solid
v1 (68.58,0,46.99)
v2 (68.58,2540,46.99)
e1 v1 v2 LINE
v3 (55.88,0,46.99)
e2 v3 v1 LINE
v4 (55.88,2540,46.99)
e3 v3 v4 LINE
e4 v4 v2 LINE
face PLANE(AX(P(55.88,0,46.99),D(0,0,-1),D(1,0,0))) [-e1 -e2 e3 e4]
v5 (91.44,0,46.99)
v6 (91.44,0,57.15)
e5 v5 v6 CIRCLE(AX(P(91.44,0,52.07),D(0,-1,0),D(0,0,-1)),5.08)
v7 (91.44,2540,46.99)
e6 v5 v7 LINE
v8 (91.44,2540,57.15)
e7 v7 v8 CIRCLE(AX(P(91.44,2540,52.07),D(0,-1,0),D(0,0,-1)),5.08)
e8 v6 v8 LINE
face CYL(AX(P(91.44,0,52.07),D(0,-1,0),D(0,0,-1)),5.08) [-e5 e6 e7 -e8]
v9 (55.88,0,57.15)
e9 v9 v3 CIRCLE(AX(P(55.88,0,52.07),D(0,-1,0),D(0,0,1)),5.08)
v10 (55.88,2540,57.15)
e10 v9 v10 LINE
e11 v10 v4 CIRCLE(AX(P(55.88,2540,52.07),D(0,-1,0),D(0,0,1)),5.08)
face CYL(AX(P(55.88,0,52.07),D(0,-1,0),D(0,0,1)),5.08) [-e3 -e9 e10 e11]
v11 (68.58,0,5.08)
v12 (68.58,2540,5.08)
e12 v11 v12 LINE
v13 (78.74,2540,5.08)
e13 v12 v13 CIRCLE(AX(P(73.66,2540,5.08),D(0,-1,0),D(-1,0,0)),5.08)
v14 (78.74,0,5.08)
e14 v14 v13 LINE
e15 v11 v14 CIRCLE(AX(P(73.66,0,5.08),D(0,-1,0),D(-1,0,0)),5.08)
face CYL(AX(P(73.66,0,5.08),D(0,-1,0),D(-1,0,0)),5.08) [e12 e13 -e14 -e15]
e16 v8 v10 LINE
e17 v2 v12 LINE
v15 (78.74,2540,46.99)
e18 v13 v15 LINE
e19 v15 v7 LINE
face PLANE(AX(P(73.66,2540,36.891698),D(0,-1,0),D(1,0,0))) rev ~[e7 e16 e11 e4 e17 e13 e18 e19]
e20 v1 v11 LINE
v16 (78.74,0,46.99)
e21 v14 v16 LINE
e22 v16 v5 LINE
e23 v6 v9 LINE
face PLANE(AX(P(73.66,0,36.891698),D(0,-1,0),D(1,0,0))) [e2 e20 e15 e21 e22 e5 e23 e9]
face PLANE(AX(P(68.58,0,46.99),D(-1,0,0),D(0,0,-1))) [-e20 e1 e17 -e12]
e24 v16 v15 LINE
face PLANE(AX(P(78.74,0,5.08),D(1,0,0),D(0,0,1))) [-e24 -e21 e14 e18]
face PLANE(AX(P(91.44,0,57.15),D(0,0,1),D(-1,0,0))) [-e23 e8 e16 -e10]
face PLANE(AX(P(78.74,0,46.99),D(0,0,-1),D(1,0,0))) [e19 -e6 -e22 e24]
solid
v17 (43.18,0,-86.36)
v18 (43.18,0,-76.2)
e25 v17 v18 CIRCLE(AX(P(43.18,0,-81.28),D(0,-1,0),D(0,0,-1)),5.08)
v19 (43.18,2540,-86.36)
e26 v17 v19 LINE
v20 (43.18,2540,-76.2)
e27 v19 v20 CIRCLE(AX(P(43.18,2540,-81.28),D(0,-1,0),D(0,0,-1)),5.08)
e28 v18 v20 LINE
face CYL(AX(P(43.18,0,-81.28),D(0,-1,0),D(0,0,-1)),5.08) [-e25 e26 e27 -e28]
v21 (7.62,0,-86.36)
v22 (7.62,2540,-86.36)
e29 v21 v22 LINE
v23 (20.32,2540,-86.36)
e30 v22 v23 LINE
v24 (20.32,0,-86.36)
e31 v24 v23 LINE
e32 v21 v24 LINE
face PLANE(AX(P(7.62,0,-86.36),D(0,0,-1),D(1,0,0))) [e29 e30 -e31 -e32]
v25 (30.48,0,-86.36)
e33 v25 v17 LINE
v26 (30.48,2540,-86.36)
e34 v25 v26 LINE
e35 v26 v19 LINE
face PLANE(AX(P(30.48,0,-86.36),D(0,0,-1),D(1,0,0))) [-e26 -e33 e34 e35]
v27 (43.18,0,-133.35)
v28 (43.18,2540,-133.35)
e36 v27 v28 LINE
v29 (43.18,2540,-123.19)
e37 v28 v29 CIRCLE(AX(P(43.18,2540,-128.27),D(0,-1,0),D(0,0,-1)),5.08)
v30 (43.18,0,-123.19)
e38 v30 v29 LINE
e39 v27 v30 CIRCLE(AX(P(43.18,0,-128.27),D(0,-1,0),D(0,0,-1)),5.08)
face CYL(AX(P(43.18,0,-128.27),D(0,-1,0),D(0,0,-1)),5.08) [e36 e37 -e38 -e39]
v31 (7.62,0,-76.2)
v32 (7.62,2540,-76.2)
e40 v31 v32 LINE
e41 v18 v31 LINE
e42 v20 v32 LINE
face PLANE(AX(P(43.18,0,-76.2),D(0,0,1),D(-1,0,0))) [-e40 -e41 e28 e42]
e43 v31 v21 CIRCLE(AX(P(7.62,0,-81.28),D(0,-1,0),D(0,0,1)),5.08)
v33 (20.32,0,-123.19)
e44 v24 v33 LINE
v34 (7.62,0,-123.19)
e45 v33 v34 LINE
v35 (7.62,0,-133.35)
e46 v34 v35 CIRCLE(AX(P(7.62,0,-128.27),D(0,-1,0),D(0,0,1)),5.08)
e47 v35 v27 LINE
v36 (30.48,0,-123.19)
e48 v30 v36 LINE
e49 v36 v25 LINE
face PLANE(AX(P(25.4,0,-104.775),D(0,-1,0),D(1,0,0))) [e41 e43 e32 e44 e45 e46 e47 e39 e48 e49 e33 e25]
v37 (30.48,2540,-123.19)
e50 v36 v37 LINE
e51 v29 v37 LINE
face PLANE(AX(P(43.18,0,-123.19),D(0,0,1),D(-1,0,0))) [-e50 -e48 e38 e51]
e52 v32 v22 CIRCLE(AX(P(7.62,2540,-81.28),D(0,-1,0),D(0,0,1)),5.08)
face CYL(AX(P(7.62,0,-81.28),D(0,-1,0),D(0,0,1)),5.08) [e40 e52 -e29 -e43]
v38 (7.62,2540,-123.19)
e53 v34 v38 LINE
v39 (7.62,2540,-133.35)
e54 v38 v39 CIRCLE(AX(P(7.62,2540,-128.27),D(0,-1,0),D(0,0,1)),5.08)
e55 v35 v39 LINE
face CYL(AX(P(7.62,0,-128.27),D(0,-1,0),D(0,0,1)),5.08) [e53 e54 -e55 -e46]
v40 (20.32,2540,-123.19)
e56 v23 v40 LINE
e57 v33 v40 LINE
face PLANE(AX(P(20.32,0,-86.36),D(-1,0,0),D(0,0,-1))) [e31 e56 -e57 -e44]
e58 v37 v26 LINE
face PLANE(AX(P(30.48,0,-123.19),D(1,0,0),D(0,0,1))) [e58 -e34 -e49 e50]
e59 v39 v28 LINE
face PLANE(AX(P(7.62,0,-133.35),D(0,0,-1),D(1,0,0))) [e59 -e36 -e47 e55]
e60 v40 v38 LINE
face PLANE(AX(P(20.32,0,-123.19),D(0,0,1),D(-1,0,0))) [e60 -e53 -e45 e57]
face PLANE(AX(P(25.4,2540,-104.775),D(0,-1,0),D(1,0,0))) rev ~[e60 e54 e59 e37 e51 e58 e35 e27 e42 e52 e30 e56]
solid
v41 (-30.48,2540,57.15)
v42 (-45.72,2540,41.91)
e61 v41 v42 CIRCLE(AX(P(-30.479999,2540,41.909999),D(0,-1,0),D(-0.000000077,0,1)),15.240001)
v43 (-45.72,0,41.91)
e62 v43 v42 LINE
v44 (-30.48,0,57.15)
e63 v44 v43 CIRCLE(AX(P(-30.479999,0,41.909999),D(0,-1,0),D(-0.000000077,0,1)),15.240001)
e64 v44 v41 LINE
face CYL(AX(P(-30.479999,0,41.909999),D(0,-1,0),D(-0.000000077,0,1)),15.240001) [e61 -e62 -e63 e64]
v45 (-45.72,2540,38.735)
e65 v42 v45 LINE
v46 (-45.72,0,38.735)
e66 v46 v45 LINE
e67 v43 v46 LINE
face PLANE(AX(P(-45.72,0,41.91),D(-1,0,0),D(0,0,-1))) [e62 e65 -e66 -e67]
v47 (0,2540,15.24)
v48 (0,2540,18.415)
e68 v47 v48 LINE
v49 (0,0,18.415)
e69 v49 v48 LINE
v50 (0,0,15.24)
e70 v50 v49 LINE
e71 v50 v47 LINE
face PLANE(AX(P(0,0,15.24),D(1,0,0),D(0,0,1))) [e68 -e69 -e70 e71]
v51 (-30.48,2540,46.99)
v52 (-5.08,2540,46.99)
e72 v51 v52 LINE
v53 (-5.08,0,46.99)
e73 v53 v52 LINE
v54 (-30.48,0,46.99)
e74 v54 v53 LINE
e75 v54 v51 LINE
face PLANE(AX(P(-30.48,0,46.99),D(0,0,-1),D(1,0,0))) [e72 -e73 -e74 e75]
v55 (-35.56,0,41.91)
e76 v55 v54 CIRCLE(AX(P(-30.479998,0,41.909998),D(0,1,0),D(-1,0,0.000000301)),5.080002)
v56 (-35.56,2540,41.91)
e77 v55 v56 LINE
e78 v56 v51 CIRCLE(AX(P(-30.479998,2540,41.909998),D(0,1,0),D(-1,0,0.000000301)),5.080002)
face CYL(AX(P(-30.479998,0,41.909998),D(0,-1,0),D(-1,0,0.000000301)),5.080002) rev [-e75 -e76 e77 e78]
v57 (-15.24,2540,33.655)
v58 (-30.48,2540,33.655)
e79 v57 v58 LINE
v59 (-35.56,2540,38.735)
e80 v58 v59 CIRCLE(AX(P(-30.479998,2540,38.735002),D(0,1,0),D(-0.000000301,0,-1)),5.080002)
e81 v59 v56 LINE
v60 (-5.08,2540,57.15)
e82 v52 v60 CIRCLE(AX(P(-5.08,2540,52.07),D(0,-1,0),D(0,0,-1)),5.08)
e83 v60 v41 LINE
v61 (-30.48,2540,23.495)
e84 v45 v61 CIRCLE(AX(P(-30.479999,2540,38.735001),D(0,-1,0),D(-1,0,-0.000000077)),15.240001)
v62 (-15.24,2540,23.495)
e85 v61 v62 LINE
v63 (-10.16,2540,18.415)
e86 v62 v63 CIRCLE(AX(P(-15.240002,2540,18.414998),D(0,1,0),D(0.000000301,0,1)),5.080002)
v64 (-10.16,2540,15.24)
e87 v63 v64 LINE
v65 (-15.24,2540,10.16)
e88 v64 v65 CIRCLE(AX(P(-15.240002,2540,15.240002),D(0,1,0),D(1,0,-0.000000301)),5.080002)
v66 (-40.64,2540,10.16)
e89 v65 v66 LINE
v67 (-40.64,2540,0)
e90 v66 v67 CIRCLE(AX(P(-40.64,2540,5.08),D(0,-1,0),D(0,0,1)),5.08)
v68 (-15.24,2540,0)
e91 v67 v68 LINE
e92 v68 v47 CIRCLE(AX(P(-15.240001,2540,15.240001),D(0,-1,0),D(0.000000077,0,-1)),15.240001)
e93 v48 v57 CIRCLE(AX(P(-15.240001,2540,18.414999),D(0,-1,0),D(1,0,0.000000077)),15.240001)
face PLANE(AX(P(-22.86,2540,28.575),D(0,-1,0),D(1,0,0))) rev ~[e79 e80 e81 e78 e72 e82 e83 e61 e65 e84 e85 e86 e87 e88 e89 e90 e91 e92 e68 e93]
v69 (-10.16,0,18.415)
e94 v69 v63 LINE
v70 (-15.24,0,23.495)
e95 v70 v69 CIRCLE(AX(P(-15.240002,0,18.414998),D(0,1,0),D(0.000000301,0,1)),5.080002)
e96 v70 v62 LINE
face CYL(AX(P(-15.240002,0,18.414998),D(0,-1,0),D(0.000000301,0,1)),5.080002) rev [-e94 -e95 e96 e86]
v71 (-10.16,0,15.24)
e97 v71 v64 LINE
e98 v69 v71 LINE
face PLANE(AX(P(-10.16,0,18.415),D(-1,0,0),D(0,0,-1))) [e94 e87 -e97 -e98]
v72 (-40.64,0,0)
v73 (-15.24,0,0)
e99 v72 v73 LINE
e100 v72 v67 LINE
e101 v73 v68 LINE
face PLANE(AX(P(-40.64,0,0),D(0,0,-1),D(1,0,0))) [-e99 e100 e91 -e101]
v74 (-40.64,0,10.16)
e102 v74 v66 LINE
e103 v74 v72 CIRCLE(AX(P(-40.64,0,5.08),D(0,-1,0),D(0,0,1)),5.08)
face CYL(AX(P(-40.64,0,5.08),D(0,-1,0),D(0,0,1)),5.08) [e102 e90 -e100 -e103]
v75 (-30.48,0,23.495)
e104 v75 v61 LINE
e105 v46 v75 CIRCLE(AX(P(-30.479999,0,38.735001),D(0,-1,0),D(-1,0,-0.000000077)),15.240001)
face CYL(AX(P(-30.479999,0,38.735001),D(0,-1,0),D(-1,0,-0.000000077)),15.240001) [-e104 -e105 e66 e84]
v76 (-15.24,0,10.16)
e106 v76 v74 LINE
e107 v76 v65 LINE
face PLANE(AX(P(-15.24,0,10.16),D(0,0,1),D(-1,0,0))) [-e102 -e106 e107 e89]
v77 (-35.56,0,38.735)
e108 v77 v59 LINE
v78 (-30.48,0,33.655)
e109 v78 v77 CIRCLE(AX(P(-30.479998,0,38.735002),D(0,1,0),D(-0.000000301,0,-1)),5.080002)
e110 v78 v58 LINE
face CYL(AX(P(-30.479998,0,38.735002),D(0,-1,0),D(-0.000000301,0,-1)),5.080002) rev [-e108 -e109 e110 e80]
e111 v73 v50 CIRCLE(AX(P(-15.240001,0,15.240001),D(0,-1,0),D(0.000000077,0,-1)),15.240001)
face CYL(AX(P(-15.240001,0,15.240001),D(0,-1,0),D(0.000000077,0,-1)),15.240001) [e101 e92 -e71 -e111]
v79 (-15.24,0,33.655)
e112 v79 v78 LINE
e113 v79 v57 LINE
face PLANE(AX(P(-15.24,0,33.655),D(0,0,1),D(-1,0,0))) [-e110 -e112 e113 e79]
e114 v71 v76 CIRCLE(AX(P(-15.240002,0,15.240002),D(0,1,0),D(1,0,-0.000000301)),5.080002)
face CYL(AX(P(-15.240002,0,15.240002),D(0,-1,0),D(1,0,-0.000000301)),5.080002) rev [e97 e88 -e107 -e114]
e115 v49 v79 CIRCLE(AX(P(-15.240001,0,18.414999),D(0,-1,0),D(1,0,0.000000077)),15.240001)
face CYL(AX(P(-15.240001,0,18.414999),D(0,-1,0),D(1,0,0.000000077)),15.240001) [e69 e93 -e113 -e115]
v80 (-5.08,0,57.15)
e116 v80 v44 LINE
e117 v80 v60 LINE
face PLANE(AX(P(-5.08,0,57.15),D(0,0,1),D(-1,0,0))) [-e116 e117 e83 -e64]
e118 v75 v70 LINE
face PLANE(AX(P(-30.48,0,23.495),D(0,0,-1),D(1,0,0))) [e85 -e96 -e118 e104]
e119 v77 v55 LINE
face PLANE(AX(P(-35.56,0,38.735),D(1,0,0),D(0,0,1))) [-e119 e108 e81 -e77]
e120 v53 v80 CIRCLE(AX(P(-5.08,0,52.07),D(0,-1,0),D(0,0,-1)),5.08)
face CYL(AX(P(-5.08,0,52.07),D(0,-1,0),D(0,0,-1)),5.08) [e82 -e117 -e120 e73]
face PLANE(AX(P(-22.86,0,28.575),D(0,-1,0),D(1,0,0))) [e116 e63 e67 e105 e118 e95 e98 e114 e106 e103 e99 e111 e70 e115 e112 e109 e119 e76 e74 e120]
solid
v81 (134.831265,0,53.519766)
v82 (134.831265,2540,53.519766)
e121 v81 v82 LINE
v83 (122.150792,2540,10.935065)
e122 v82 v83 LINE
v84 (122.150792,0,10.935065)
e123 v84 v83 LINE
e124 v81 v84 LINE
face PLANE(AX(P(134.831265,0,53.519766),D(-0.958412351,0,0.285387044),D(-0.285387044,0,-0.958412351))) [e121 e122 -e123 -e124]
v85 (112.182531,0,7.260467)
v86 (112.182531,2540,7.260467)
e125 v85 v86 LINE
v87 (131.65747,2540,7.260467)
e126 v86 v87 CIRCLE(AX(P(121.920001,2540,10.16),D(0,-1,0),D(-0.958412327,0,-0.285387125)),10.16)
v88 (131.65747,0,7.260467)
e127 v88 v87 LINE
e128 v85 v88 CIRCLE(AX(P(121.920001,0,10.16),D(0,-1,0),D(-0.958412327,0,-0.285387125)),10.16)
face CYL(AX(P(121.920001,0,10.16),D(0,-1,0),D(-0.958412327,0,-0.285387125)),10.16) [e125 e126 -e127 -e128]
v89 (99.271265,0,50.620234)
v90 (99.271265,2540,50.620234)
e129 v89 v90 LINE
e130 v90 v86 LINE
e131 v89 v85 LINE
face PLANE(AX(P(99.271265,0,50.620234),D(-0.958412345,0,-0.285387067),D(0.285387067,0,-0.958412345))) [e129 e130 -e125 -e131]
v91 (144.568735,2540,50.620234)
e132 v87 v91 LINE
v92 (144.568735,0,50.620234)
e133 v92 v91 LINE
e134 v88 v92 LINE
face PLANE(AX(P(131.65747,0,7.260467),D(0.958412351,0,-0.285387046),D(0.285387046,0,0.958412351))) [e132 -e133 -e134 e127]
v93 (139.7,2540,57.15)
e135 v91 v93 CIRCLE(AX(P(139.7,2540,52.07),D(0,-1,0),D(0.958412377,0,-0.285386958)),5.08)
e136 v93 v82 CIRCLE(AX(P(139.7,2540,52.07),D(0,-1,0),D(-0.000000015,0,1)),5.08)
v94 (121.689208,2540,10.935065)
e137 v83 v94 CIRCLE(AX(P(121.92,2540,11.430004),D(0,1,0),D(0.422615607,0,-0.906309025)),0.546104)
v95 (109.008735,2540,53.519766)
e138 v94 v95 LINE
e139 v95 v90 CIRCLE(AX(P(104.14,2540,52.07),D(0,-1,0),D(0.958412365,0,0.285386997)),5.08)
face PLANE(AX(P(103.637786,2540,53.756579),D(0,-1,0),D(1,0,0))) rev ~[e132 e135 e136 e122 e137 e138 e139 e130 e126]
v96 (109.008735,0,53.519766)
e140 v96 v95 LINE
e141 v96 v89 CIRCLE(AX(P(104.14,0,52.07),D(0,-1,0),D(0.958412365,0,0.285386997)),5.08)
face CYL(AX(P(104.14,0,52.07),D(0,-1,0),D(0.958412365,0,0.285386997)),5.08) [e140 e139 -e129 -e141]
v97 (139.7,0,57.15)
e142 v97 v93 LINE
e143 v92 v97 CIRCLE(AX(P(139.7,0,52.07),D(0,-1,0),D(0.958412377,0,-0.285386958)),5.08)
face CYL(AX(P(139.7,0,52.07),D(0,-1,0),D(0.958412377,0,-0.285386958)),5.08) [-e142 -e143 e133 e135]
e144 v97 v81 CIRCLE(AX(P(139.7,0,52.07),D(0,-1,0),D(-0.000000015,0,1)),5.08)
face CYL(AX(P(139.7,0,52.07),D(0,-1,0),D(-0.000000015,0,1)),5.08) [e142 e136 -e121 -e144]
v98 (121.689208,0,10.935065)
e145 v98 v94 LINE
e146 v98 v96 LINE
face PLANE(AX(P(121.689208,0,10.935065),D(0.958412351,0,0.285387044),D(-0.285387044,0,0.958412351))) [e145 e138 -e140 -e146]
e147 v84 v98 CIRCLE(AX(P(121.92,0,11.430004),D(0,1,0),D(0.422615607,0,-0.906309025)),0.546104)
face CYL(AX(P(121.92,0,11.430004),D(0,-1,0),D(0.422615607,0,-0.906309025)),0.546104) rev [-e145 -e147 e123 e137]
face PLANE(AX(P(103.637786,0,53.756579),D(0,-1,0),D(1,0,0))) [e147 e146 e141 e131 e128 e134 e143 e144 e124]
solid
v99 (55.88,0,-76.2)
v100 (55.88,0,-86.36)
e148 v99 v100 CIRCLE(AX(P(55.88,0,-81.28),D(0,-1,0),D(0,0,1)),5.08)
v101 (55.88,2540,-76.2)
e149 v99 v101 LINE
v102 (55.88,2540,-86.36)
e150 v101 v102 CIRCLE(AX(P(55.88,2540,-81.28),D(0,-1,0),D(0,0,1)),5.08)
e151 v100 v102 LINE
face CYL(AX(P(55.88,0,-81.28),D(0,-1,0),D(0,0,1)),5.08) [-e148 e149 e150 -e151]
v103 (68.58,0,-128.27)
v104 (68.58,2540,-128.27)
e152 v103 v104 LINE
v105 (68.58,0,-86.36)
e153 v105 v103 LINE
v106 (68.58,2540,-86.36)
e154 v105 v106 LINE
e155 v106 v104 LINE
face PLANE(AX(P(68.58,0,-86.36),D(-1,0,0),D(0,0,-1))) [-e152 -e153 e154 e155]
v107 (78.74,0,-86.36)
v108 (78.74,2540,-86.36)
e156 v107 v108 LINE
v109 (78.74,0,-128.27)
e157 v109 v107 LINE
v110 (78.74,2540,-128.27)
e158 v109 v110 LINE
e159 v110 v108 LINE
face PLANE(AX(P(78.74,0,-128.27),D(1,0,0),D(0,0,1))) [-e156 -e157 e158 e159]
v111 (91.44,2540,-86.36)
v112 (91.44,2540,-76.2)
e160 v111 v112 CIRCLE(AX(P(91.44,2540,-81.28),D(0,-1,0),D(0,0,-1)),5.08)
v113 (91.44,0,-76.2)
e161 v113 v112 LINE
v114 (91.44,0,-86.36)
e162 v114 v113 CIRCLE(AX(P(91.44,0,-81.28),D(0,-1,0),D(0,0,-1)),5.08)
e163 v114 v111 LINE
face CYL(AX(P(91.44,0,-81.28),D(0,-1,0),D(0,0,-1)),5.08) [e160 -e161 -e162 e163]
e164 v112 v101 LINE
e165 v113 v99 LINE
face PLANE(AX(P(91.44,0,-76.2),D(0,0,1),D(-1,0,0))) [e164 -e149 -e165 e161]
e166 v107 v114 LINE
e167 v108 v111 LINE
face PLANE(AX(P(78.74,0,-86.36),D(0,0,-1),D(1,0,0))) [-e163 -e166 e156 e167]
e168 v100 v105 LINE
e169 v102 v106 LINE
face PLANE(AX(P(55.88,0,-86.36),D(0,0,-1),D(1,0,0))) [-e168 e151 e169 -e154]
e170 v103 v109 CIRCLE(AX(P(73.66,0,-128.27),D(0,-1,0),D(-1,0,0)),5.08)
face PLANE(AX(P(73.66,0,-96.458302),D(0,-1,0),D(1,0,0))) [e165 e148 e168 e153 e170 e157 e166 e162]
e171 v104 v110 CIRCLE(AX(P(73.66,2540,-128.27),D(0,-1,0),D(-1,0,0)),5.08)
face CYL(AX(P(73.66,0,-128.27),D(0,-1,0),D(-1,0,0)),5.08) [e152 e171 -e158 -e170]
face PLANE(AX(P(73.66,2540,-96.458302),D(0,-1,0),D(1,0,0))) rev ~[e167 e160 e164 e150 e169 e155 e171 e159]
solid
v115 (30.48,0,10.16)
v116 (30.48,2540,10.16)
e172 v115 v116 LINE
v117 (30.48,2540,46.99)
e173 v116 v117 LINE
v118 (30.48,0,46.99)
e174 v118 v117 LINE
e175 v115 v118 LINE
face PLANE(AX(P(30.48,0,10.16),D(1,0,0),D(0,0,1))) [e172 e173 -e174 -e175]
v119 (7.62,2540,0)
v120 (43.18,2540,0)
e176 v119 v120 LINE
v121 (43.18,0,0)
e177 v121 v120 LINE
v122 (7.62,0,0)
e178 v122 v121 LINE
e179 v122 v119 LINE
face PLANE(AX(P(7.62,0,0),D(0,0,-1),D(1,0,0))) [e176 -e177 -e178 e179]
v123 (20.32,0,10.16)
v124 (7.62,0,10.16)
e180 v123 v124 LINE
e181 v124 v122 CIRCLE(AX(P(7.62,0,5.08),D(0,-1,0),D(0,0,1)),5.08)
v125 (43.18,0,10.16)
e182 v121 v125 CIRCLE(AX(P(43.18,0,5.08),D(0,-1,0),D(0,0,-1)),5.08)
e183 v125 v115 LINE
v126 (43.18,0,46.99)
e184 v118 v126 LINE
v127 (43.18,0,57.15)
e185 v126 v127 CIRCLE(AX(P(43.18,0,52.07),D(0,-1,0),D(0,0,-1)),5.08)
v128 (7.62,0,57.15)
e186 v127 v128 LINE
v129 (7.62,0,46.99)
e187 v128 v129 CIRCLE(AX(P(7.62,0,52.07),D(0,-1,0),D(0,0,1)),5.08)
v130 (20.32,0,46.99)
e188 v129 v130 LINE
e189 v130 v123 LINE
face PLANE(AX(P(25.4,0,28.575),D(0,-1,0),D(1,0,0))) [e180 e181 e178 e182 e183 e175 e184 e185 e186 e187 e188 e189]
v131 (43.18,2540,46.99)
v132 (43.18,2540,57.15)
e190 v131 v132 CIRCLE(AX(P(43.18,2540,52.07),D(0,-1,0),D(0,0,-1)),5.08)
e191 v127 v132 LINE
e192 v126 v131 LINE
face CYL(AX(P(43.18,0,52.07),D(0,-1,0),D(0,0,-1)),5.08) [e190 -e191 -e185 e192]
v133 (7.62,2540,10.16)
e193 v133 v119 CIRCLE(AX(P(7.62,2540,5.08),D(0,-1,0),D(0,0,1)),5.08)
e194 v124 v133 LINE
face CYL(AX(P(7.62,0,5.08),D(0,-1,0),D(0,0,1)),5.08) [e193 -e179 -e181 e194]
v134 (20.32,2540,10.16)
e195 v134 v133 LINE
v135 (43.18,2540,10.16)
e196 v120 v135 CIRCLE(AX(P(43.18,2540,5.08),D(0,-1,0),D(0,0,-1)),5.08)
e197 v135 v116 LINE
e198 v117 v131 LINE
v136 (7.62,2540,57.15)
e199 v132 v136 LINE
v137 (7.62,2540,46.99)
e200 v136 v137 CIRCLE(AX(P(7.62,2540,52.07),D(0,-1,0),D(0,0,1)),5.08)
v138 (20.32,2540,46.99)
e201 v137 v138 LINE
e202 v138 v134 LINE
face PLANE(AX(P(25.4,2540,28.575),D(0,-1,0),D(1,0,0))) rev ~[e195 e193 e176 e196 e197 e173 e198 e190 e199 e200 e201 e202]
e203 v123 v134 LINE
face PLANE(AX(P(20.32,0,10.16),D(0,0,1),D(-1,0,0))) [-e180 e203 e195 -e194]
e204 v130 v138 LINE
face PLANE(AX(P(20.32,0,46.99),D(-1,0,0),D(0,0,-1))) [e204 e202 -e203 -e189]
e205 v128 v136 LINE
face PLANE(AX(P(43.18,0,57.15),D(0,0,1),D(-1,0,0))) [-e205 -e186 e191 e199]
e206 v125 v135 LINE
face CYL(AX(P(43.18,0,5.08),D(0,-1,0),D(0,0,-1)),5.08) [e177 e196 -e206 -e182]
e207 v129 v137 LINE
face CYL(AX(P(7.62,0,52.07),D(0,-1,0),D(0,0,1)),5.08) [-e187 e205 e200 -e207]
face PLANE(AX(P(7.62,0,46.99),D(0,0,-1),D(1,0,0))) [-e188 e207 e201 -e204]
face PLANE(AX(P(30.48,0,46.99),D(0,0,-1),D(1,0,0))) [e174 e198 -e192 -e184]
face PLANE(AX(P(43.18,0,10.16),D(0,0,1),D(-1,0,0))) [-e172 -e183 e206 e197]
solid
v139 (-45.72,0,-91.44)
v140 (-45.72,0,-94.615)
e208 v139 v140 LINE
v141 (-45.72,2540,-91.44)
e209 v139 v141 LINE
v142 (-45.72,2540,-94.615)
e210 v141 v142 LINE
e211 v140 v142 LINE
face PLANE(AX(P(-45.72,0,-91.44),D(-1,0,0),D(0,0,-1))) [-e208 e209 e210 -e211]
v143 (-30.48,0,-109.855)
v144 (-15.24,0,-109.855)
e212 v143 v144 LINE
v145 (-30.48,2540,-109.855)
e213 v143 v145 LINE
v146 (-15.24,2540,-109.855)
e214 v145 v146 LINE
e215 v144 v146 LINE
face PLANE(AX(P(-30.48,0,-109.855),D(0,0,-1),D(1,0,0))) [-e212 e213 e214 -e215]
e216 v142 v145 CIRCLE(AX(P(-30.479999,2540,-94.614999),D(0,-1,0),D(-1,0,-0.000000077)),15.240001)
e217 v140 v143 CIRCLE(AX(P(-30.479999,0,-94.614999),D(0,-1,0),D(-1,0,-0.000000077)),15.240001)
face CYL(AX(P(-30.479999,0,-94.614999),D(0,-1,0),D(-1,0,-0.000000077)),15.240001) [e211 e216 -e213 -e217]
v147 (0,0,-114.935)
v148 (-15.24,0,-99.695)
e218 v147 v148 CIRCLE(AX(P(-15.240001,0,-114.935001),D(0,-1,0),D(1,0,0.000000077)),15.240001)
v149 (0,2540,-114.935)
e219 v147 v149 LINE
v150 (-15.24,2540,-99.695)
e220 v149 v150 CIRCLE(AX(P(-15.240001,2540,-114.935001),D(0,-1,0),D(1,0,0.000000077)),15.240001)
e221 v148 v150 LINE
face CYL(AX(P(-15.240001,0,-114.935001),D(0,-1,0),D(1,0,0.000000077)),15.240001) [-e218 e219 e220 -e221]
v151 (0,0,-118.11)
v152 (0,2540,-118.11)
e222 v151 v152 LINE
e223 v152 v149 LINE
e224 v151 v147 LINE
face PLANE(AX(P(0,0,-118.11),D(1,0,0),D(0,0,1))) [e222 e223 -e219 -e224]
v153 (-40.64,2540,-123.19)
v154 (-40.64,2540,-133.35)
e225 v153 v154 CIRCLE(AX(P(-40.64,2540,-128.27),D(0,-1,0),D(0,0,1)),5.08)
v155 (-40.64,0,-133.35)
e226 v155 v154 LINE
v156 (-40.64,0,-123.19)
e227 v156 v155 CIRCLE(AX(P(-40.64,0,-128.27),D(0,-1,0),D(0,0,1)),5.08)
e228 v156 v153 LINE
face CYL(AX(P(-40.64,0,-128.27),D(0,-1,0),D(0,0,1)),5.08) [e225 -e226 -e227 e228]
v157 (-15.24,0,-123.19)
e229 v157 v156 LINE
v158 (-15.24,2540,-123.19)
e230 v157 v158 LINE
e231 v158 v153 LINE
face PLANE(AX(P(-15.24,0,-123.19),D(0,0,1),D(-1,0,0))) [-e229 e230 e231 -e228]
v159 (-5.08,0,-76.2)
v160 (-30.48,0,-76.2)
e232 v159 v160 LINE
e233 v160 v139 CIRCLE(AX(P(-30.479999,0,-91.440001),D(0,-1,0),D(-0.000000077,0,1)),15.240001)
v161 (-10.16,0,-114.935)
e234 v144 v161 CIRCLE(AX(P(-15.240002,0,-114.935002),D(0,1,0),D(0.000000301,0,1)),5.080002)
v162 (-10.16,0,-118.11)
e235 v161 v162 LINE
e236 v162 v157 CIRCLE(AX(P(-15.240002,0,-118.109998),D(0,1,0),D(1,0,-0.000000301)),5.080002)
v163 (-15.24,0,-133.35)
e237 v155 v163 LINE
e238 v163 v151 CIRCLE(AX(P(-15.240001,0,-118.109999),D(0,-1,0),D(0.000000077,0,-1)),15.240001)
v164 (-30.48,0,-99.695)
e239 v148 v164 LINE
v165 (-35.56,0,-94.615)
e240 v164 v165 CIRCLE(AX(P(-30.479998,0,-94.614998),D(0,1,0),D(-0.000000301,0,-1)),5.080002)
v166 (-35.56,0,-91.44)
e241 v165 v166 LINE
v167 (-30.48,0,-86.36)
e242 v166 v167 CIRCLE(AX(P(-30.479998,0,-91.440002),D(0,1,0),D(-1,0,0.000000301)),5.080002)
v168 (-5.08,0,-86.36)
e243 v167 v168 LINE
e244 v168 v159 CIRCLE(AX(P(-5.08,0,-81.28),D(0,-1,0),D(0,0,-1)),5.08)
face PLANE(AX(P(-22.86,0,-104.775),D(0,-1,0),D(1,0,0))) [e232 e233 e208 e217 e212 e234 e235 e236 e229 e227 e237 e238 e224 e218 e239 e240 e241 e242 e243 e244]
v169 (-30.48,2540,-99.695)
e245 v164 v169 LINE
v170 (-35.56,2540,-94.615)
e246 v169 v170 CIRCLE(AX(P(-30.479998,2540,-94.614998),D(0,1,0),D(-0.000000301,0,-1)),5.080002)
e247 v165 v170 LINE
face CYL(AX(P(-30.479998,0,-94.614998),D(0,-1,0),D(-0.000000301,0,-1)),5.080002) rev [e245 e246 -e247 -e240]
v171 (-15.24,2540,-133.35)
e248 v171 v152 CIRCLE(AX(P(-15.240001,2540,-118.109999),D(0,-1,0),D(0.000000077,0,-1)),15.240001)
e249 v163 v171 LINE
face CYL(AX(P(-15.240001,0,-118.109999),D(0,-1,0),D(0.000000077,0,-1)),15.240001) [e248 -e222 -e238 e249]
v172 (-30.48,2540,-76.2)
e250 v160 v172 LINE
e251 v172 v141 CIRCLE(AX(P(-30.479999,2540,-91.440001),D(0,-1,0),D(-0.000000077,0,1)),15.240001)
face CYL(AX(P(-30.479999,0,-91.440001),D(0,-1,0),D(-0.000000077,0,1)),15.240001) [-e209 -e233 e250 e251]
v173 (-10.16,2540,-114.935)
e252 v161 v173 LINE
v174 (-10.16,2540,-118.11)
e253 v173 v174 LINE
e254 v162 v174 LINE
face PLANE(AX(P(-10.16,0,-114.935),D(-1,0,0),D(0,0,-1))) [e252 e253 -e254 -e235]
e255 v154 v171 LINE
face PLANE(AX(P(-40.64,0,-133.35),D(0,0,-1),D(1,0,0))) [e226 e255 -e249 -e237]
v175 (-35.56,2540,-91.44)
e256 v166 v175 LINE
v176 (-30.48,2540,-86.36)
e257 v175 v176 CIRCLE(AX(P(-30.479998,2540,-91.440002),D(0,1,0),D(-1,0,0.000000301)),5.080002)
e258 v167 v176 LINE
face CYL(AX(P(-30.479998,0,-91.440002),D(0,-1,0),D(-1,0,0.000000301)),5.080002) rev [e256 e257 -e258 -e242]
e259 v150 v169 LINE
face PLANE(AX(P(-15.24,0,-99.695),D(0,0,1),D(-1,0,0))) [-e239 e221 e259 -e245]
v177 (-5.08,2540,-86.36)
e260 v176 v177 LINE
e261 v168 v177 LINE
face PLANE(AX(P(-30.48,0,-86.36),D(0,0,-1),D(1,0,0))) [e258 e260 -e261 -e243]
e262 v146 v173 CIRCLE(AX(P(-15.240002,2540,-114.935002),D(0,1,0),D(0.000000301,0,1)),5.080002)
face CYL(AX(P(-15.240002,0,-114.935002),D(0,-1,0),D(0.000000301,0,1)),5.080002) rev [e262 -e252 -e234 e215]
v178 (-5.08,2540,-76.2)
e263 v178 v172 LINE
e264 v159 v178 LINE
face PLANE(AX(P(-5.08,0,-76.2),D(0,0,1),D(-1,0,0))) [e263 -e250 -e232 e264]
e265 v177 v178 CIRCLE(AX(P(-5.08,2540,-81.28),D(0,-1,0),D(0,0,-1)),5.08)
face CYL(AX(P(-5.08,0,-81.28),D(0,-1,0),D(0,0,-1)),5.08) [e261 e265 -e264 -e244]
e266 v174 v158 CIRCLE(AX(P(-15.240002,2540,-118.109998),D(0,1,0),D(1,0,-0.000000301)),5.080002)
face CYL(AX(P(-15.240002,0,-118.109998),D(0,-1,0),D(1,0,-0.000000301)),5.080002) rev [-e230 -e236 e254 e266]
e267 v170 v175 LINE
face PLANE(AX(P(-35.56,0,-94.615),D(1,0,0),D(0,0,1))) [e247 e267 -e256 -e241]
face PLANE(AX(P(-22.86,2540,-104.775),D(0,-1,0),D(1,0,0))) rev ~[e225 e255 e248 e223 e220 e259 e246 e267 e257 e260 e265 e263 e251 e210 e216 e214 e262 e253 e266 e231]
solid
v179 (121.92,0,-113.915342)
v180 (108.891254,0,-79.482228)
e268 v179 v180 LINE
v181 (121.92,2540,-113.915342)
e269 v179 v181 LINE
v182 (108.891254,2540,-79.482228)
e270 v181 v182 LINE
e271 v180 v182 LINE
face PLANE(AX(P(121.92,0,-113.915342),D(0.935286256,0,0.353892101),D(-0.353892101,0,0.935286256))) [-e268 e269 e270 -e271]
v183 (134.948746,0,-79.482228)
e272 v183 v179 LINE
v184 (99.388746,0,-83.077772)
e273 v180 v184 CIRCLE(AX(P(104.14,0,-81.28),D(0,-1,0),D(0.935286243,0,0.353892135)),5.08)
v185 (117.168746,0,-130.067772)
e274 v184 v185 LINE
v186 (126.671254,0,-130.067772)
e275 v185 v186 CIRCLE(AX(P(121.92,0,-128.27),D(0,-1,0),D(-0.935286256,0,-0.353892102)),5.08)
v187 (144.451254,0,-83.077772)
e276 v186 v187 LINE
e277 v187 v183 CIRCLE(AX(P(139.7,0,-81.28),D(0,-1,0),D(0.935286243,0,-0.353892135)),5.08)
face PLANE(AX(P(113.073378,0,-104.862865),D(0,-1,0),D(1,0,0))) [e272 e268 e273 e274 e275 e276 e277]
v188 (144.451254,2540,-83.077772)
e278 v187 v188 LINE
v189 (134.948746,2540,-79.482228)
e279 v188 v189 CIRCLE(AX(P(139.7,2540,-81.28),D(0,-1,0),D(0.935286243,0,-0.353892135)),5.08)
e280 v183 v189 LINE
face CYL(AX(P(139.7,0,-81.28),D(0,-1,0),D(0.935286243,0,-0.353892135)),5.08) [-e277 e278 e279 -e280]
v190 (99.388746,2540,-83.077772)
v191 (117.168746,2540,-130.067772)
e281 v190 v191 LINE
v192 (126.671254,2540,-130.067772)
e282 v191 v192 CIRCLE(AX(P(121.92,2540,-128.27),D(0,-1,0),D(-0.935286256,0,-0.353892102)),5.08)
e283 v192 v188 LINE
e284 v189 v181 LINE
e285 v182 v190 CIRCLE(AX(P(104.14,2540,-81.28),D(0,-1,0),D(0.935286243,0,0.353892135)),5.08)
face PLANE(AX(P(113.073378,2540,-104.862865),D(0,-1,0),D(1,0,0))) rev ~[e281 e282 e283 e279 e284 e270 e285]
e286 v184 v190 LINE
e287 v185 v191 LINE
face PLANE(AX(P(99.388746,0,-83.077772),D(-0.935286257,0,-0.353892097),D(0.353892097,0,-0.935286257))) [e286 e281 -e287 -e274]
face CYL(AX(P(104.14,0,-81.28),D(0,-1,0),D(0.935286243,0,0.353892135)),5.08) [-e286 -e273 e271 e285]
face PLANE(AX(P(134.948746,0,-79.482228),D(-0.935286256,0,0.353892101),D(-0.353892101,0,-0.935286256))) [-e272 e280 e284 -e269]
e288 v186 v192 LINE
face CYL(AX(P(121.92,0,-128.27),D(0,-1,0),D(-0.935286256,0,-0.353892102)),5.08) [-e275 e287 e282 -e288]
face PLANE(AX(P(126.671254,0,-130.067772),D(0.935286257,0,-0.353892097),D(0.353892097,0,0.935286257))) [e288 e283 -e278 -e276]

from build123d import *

# Parameters (mm, degrees)
F1_DEPTH = 2540


with BuildPart() as f1:
    # F0 (on Front) → F1 (new body)
    with BuildSketch(Plane.XZ):
        with BuildLine():
            ThreePointArc((-40.64, 10.16), (-45.72, 5.08), (-40.64, 0))
            Line((-40.64, 0), (-15.24, 0))
            ThreePointArc((-15.24, 0), (-4.463693, 4.463693), (0, 15.24))
            Line((0, 15.24), (0, 18.415))
            ThreePointArc((0, 18.415), (-4.463693, 29.191307), (-15.24, 33.655))
            Line((-15.24, 33.655), (-30.48, 33.655))
            ThreePointArc((-30.48, 33.655), (-34.072102, 35.142898), (-35.56, 38.735))
            Line((-35.56, 38.735), (-35.56, 41.91))
            ThreePointArc((-35.56, 41.91), (-34.072102, 45.502102), (-30.48, 46.99))
            Line((-30.48, 46.99), (-5.08, 46.99))
            ThreePointArc((-5.08, 46.99), (0, 52.07), (-5.08, 57.15))
            Line((-5.08, 57.15), (-30.48, 57.15))
            ThreePointArc((-30.48, 57.15), (-41.256307, 52.686307), (-45.72, 41.91))
            Line((-45.72, 41.91), (-45.72, 38.735))
            ThreePointArc((-45.72, 38.735), (-41.256307, 27.958693), (-30.48, 23.495))
            Line((-30.48, 23.495), (-15.24, 23.495))
            ThreePointArc((-15.24, 23.495), (-11.647898, 22.007102), (-10.16, 18.415))
            Line((-10.16, 18.415), (-10.16, 15.24))
            ThreePointArc((-10.16, 15.24), (-11.647898, 11.647898), (-15.24, 10.16))
            Line((-15.24, 10.16), (-40.64, 10.16))
        make_face()
        with BuildLine():
            ThreePointArc((7.62, 10.16), (2.54, 5.08), (7.62, 0))
            Line((7.62, 0), (43.18, 0))
            ThreePointArc((43.18, 0), (48.26, 5.08), (43.18, 10.16))
            Line((43.18, 10.16), (30.48, 10.16))
            Line((30.48, 10.16), (30.48, 46.99))
            Line((30.48, 46.99), (43.18, 46.99))
            ThreePointArc((43.18, 46.99), (48.26, 52.07), (43.18, 57.15))
            Line((43.18, 57.15), (7.62, 57.15))
            ThreePointArc((7.62, 57.15), (2.54, 52.07), (7.62, 46.99))
            Line((7.62, 46.99), (20.32, 46.99))
            Line((20.32, 46.99), (20.32, 10.16))
            Line((20.32, 10.16), (7.62, 10.16))
        make_face()
        with BuildLine():
            ThreePointArc((55.88, 57.15), (50.8, 52.07), (55.88, 46.99))
            Line((55.88, 46.99), (68.58, 46.99))
            Line((68.58, 46.99), (68.58, 5.08))
            ThreePointArc((68.58, 5.08), (73.66, 0), (78.74, 5.08))
            Line((78.74, 5.08), (78.74, 46.99))
            Line((78.74, 46.99), (91.44, 46.99))
            ThreePointArc((91.44, 46.99), (96.52, 52.07), (91.44, 57.15))
            Line((91.44, 57.15), (55.88, 57.15))
        make_face()
        with BuildLine():
            ThreePointArc((109.008735, 53.519766), (102.690234, 56.938735), (99.271265, 50.620234))
            Line((99.271265, 50.620234), (109.008735, 53.519766))
        make_face()
        with BuildLine():
            Line((109.008735, 53.519766), (99.271265, 50.620234))
            Line((99.271265, 50.620234), (112.182531, 7.260467))
            ThreePointArc((112.182531, 7.260467), (121.92, 0), (131.65747, 7.260467))
            Line((131.65747, 7.260467), (144.568735, 50.620234))
            ThreePointArc((144.568735, 50.620234), (143.772543, 55.106576), (139.7, 57.15))
            ThreePointArc((139.7, 57.15), (136.663424, 56.142543), (134.831265, 53.519766))
            Line((134.831265, 53.519766), (122.150792, 10.935065))
            Line((122.150792, 10.935065), (121.92, 10.16))
            Line((121.92, 10.16), (121.689208, 10.935065))
            Line((121.689208, 10.935065), (109.008735, 53.519766))
        make_face()
        with BuildLine():
            ThreePointArc((122.150792, 10.935065), (121.92, 10.8839), (121.689208, 10.935065))
            Line((121.689208, 10.935065), (121.92, 10.16))
            Line((121.92, 10.16), (122.150792, 10.935065))
        make_face()
        with BuildLine():
            ThreePointArc((108.891254, -79.482228), (102.342228, -76.528746), (99.388746, -83.077772))
            Line((99.388746, -83.077772), (117.168746, -130.067772))
            ThreePointArc((117.168746, -130.067772), (121.92, -133.35), (126.671254, -130.067772))
            ThreePointArc((126.671254, -130.067772), (127, -128.27), (126.671254, -126.472228))
            Line((126.671254, -126.472228), (121.92, -113.915342))
            Line((121.92, -113.915342), (108.891254, -79.482228))
        make_face()
        with BuildLine():
            ThreePointArc((126.671254, -126.472228), (127, -128.27), (126.671254, -130.067772))
            Line((126.671254, -130.067772), (144.451254, -83.077772))
            Line((144.451254, -83.077772), (134.948746, -79.482228))
            Line((134.948746, -79.482228), (121.92, -113.915342))
            Line((121.92, -113.915342), (126.671254, -126.472228))
        make_face()
        with BuildLine():
            Line((134.948746, -79.482228), (144.451254, -83.077772))
            ThreePointArc((144.451254, -83.077772), (141.497772, -76.528746), (134.948746, -79.482228))
        make_face()
        with BuildLine():
            ThreePointArc((-40.64, -123.19), (-45.72, -128.27), (-40.64, -133.35))
            Line((-40.64, -133.35), (-15.24, -133.35))
            ThreePointArc((-15.24, -133.35), (-4.463693, -128.886307), (0, -118.11))
            Line((0, -118.11), (0, -114.935))
            ThreePointArc((0, -114.935), (-4.463693, -104.158693), (-15.24, -99.695))
            Line((-15.24, -99.695), (-30.48, -99.695))
            ThreePointArc((-30.48, -99.695), (-34.072102, -98.207102), (-35.56, -94.615))
            Line((-35.56, -94.615), (-35.56, -91.44))
            ThreePointArc((-35.56, -91.44), (-34.072102, -87.847898), (-30.48, -86.36))
            Line((-30.48, -86.36), (-5.08, -86.36))
            ThreePointArc((-5.08, -86.36), (0, -81.28), (-5.08, -76.2))
            Line((-5.08, -76.2), (-30.48, -76.2))
            ThreePointArc((-30.48, -76.2), (-41.256307, -80.663693), (-45.72, -91.44))
            Line((-45.72, -91.44), (-45.72, -94.615))
            ThreePointArc((-45.72, -94.615), (-41.256307, -105.391307), (-30.48, -109.855))
            Line((-30.48, -109.855), (-15.24, -109.855))
            ThreePointArc((-15.24, -109.855), (-11.647898, -111.342898), (-10.16, -114.935))
            Line((-10.16, -114.935), (-10.16, -118.11))
            ThreePointArc((-10.16, -118.11), (-11.647898, -121.702102), (-15.24, -123.19))
            Line((-15.24, -123.19), (-40.64, -123.19))
        make_face()
        with BuildLine():
            ThreePointArc((7.62, -123.19), (2.54, -128.27), (7.62, -133.35))
            Line((7.62, -133.35), (43.18, -133.35))
            ThreePointArc((43.18, -133.35), (48.26, -128.27), (43.18, -123.19))
            Line((43.18, -123.19), (30.48, -123.19))
            Line((30.48, -123.19), (30.48, -86.36))
            Line((30.48, -86.36), (43.18, -86.36))
            ThreePointArc((43.18, -86.36), (48.26, -81.28), (43.18, -76.2))
            Line((43.18, -76.2), (7.62, -76.2))
            ThreePointArc((7.62, -76.2), (2.54, -81.28), (7.62, -86.36))
            Line((7.62, -86.36), (20.32, -86.36))
            Line((20.32, -86.36), (20.32, -123.19))
            Line((20.32, -123.19), (7.62, -123.19))
        make_face()
        with BuildLine():
            ThreePointArc((55.88, -76.2), (50.8, -81.28), (55.88, -86.36))
            Line((55.88, -86.36), (68.58, -86.36))
            Line((68.58, -86.36), (68.58, -128.27))
            ThreePointArc((68.58, -128.27), (73.66, -133.35), (78.74, -128.27))
            Line((78.74, -128.27), (78.74, -86.36))
            Line((78.74, -86.36), (91.44, -86.36))
            ThreePointArc((91.44, -86.36), (96.52, -81.28), (91.44, -76.2))
            Line((91.44, -76.2), (55.88, -76.2))
        make_face()
    extrude(amount=-F1_DEPTH)


solid = f1.part
